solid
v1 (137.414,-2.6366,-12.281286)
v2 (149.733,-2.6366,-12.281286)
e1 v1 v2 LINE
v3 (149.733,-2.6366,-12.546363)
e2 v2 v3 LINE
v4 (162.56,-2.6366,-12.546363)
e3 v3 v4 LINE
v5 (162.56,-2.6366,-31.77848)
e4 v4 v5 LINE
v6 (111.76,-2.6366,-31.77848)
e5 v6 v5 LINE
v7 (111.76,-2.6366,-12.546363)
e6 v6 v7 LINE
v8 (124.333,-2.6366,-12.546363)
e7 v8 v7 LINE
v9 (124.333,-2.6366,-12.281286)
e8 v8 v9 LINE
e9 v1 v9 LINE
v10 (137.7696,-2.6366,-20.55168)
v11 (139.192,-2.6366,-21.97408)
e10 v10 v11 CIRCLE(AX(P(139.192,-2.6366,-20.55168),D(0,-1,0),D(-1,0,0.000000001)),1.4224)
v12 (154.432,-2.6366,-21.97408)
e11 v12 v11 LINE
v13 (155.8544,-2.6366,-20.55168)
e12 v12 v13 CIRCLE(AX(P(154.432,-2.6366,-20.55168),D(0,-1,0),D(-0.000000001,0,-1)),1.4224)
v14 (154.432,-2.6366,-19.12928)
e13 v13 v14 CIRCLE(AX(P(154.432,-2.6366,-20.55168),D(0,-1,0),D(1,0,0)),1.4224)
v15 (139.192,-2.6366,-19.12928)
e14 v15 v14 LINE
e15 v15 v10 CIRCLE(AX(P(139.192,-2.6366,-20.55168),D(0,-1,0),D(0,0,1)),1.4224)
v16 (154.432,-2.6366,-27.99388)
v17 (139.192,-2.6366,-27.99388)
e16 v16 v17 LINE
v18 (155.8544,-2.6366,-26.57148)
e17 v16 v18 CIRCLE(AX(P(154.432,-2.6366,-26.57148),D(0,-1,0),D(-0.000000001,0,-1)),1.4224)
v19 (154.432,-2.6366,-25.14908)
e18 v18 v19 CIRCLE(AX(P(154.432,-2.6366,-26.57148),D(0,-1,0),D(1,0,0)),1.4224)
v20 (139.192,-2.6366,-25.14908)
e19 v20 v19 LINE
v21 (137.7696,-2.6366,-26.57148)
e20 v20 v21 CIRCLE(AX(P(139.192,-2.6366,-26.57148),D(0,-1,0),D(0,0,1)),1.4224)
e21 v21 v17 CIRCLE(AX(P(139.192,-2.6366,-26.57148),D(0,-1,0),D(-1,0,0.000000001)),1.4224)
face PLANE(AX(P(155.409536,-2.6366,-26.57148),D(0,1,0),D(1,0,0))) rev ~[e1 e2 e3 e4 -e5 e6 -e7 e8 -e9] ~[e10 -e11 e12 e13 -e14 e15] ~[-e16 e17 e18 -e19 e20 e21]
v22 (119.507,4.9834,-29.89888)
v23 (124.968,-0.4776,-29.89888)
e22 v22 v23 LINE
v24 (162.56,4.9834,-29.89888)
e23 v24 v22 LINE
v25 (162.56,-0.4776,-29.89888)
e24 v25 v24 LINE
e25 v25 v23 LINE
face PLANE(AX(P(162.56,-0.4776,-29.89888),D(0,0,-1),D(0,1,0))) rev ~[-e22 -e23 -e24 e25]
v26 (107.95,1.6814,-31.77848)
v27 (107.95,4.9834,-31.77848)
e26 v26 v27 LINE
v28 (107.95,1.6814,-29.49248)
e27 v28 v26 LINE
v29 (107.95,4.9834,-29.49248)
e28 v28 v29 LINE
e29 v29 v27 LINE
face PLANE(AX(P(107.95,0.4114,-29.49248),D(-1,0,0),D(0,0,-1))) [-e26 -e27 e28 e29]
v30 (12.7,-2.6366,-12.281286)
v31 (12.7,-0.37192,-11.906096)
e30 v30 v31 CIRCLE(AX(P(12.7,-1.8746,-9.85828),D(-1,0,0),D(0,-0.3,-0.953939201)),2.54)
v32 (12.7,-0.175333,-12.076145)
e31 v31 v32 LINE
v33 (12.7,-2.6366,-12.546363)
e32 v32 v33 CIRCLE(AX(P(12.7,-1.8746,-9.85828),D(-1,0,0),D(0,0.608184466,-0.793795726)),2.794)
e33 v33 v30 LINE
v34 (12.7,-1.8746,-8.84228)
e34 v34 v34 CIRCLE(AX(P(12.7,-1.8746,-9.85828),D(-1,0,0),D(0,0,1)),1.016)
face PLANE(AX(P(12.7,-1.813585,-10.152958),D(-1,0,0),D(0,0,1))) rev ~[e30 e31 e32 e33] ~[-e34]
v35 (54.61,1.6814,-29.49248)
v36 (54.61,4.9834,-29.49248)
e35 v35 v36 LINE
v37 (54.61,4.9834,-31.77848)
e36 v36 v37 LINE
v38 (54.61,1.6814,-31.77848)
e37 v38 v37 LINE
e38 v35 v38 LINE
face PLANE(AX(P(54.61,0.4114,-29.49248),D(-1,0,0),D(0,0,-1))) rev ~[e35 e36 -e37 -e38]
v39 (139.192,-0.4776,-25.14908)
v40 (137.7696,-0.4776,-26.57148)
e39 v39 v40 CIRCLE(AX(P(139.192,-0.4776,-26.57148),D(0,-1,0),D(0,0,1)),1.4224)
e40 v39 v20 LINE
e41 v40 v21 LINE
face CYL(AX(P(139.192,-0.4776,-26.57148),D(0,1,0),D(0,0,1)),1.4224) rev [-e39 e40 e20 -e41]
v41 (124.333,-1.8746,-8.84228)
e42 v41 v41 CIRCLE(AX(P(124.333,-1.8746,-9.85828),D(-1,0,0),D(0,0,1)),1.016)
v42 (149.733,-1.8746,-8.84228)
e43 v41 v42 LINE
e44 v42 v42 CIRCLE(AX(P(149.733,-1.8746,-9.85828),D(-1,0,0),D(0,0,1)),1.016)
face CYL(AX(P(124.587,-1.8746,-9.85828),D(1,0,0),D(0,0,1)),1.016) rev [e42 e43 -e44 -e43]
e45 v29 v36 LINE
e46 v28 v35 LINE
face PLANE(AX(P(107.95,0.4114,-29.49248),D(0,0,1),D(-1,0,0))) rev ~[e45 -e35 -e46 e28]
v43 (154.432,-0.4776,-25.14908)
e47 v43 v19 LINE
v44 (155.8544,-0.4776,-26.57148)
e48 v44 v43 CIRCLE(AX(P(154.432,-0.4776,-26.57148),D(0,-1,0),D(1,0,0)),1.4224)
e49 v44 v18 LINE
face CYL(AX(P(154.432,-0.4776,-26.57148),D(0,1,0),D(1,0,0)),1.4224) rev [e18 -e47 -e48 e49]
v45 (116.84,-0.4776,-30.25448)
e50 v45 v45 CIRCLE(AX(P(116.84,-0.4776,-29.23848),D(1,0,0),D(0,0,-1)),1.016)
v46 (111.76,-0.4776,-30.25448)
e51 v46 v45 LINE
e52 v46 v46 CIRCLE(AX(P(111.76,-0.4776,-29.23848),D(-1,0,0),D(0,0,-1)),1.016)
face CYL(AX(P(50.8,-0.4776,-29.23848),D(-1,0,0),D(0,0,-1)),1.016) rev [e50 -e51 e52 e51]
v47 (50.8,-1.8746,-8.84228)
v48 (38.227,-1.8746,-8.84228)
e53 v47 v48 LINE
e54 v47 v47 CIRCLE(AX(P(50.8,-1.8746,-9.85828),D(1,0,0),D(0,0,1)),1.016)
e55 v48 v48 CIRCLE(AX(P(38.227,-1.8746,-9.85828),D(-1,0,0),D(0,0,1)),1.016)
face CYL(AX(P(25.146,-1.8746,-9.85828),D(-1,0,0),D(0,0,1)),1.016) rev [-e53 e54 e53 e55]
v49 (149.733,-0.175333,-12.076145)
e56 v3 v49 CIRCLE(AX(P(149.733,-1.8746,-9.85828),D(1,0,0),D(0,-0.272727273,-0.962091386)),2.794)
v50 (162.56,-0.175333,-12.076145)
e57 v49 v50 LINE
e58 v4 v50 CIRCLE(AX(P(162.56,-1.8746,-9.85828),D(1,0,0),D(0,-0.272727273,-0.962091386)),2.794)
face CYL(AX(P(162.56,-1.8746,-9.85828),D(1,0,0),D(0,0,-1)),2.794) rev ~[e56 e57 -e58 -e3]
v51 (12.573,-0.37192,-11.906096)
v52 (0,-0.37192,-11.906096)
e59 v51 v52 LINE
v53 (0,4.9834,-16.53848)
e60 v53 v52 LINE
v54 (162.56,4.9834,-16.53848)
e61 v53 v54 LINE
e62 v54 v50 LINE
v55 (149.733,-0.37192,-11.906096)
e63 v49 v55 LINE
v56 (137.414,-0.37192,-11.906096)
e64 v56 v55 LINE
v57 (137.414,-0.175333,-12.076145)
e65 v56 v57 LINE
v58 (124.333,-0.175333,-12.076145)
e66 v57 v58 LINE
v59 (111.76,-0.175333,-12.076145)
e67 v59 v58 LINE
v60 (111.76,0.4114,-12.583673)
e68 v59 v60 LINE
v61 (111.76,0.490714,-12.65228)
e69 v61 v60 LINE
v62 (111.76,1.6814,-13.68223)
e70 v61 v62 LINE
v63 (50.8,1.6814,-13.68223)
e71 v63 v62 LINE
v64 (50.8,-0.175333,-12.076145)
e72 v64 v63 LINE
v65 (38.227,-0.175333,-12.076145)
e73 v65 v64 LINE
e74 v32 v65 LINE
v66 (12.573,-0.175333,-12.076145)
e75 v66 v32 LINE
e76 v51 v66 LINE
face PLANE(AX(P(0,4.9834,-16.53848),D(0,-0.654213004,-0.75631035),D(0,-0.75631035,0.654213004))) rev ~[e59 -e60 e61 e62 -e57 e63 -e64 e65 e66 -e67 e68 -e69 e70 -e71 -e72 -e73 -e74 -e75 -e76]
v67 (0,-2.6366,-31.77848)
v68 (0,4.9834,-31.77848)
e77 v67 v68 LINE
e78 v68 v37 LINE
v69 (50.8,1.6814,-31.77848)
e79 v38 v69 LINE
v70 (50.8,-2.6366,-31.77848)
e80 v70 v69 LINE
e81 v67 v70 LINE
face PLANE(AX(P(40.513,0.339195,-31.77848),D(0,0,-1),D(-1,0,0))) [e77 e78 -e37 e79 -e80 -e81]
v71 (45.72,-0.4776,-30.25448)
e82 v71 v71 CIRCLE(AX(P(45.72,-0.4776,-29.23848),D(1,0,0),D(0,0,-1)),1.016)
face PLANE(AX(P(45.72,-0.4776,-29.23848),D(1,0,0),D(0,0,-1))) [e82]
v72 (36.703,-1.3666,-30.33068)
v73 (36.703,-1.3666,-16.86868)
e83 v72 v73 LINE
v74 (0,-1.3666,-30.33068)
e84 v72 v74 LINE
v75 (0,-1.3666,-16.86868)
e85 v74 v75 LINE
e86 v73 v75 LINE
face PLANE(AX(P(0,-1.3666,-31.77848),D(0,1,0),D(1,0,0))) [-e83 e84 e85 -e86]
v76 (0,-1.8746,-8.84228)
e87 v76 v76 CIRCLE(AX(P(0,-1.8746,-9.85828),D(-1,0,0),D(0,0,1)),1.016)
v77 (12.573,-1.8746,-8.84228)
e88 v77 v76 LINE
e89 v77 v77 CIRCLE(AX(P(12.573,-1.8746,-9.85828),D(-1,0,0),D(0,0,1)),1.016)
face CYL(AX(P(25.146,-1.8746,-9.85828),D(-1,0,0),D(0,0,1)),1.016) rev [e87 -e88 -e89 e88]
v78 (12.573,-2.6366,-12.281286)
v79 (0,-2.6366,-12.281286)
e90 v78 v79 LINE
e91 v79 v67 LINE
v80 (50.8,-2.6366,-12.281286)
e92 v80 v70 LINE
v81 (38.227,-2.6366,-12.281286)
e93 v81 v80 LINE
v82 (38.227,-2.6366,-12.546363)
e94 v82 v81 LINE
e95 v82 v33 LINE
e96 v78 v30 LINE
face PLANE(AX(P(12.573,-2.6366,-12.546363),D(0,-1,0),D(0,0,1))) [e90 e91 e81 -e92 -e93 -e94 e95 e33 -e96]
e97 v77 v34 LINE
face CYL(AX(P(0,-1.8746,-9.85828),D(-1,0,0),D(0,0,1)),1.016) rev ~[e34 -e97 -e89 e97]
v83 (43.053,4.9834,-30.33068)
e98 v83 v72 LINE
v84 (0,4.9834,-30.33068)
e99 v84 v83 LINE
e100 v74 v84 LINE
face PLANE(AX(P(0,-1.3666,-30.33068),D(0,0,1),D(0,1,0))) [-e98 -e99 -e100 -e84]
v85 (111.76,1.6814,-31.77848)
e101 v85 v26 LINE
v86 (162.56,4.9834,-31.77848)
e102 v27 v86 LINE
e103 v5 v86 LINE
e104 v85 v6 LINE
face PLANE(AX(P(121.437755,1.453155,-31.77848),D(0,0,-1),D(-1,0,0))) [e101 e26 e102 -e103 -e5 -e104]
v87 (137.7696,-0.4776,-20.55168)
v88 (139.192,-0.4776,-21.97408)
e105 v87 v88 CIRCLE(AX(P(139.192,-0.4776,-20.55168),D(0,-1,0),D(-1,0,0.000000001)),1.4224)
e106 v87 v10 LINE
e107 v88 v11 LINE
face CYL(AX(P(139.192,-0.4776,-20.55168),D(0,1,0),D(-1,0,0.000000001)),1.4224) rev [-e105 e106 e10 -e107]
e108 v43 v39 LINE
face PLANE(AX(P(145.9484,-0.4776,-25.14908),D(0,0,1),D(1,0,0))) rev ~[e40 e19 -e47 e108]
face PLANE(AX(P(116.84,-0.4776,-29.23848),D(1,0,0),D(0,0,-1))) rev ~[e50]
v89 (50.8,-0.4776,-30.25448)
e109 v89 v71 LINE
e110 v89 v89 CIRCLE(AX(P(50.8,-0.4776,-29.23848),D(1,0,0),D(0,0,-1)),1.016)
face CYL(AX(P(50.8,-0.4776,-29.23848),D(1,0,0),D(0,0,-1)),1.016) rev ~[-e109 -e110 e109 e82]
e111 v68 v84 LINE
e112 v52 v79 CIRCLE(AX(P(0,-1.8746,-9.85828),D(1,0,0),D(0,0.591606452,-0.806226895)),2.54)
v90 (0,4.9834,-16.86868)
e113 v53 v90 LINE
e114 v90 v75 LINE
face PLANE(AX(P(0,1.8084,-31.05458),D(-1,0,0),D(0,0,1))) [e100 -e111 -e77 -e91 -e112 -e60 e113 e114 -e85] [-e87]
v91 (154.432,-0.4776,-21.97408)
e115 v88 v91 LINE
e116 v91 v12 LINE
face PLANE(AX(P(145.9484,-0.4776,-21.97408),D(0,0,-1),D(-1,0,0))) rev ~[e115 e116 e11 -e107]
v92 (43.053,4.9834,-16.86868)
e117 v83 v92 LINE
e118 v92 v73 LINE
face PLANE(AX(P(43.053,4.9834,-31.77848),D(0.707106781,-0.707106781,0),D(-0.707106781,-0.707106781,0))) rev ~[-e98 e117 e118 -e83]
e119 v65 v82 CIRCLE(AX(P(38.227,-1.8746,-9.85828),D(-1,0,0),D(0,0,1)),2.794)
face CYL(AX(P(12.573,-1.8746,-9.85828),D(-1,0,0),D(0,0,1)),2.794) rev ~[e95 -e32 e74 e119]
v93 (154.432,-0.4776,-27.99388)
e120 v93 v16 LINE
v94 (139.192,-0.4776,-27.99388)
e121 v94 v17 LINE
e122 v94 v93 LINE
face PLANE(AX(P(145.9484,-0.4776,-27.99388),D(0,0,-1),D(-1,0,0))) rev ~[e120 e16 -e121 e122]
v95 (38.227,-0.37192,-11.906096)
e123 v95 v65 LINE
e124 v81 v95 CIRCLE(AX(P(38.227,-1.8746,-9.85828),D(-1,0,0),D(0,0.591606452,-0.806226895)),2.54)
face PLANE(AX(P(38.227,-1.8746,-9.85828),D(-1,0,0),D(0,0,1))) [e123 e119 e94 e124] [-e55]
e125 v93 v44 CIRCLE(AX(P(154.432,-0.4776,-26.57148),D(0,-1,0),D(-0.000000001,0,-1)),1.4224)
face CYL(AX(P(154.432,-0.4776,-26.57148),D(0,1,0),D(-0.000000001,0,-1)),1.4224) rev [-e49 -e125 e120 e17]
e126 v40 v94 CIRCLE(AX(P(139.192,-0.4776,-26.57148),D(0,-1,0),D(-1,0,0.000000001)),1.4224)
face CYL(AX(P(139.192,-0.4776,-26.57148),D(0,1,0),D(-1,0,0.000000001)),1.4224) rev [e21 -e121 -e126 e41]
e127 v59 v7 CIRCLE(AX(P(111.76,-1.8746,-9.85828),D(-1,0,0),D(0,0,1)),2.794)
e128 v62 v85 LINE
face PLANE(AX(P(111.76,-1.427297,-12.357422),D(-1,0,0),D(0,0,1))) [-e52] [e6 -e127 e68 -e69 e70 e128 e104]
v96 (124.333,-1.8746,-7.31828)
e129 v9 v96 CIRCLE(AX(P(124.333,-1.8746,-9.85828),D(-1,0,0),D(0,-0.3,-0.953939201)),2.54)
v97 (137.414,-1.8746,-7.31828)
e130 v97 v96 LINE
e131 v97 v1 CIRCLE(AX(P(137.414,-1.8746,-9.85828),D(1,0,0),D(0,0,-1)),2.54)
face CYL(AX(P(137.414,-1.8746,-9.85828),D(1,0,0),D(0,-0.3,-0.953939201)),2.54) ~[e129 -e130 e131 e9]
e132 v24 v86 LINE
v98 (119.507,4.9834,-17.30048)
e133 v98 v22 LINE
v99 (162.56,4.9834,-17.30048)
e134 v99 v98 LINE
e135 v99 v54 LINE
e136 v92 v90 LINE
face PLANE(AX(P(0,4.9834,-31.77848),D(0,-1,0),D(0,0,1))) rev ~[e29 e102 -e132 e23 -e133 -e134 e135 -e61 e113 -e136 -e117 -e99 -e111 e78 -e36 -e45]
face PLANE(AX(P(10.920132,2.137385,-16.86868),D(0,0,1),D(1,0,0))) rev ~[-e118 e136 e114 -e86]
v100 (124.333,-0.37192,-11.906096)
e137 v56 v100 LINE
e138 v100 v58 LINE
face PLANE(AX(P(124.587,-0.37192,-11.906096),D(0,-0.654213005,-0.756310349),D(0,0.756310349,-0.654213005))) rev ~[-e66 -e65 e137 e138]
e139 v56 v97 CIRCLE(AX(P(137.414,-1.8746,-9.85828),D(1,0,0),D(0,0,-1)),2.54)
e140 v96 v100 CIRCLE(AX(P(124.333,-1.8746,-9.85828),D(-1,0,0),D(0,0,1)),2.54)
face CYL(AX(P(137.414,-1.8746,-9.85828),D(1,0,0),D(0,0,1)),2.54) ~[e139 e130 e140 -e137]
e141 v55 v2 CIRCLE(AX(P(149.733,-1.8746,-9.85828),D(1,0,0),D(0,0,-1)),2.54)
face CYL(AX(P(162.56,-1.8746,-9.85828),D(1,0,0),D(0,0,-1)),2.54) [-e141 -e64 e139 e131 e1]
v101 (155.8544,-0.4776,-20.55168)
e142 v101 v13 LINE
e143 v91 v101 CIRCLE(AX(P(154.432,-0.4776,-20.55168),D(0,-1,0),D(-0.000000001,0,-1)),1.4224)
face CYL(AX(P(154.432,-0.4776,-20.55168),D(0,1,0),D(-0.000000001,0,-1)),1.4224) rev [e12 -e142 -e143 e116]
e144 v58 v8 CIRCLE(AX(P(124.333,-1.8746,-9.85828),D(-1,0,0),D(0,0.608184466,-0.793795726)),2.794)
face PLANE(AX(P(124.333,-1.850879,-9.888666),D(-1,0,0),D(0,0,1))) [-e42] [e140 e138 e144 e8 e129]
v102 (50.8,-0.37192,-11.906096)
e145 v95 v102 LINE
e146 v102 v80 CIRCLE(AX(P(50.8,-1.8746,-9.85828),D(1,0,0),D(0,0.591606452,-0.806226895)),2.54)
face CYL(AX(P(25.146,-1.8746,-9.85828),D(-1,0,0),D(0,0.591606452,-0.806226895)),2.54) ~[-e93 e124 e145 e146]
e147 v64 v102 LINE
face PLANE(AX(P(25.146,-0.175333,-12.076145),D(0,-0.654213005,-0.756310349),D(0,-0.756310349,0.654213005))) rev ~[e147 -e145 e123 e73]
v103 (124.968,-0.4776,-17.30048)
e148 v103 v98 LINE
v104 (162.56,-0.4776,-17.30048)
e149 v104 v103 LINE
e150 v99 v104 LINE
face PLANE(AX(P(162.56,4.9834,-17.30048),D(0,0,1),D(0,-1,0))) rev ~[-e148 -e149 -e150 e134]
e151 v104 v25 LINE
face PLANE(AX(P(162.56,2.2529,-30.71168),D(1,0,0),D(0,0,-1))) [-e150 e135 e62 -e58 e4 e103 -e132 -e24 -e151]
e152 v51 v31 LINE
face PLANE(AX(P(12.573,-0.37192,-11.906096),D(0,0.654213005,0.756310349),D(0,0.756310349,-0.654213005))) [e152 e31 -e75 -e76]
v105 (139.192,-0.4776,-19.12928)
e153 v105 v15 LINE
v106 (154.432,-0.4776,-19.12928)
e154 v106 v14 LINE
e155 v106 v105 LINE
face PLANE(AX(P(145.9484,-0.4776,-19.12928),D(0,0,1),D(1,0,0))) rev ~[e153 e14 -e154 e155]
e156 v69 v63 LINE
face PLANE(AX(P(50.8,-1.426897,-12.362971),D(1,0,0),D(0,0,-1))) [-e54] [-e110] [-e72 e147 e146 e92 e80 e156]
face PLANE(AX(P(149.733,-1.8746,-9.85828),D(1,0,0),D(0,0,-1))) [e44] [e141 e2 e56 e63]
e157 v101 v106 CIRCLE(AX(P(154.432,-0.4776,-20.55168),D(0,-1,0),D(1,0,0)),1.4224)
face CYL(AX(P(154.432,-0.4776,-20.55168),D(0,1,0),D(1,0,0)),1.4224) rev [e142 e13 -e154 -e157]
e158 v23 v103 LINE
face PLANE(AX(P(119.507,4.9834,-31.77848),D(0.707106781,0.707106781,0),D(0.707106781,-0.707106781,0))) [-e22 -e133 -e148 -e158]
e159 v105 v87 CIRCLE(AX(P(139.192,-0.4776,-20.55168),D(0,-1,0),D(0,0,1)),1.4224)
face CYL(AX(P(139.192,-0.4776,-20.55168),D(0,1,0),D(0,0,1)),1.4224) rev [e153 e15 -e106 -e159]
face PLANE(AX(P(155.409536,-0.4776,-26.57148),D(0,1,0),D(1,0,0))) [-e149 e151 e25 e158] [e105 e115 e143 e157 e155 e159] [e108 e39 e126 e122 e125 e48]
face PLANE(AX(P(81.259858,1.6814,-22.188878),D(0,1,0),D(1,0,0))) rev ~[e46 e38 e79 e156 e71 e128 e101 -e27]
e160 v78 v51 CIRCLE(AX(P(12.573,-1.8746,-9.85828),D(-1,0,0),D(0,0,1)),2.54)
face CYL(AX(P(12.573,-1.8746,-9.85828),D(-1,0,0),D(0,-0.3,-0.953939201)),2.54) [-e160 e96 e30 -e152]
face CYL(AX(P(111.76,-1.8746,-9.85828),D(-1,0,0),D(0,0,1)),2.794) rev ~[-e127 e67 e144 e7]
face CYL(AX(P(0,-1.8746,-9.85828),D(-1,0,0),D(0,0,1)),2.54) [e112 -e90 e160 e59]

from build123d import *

# Parameters (mm, degrees)
SKETCH1_R                = 1.6002
SKETCH1_R_2              = 0.8128
BOSS_EXTRUDE5_DEPTH      = 162.56
CUT_EXTRUDE1_DEPTH       = 14.351
SKETCH3_W                = 0.889
SKETCH3_H                = 5.842
BOSS_EXTRUDE6_DEPTH      = 36.957
SKETCH16_W               = 13.462
SKETCH16_H               = 6.460130881
BOSS_EXTRUDE7_DEPTH      = 33.02
CUT_EXTRUDE4_DEPTH       = 15.24
SKETCH18_W               = 1.778
SKETCH18_H               = 5.842
BOSS_EXTRUDE8_DEPTH      = 38.1
CUT_EXTRUDE5_DEPTH       = 14.224
SKETCH20_W               = 2.1336
SKETCH20_H               = 5.461
BOSS_EXTRUDE9_DEPTH      = 36.322
SKETCH22_R               = 1.4224
CUT_EXTRUDE7_DEPTH       = 20.32
CUT_EXTRUDE7_DEPTH_BACK  = 24.13
SKETCH25_W               = 112.268
SKETCH25_H               = 3.007323321
CUT_EXTRUDE8_DEPTH       = 24.13
SKETCH27_R               = 1.778
CUT_EXTRUDE9_DEPTH       = 112.268
CUT_EXTRUDE12_DEPTH      = 14.224
SKETCH34_W               = 43.053
SKETCH34_H               = 2.1336
BOSS_EXTRUDE14_DEPTH     = 7.112
SKETCH35_R               = 1.4224
CUT_EXTRUDE13_DEPTH      = 7.112
SKETCH37_W               = 60.96
SKETCH37_H               = 15.24
CUT_EXTRUDE14_DEPTH      = 3.048
SKETCH38_R               = 0.8128
CUT_EXTRUDE15_DEPTH      = 5.08
SKETCH39_R               = 0.8128
CUT_EXTRUDE16_DEPTH      = 5.08
SKETCH40_W               = 60.96
SKETCH40_H               = 2.54
CUT_EXTRUDE17_DEPTH      = 3.048
SKETCH41_R               = 1.161307013
BOSS_EXTRUDE15_DEPTH     = 6.604
SKETCH42_R               = 1.020818471
BOSS_EXTRUDE16_DEPTH     = 5.588
SKETCH43_R               = 0.8128
CUT_EXTRUDE18_DEPTH      = 5.08
SKETCH44_R               = 0.8128
CUT_EXTRUDE19_DEPTH      = 5.08
SKETCH46_W               = 60.96
SKETCH46_H               = 9.087986699
CUT_EXTRUDE21_DEPTH      = 3.048
SKETCH47_W               = 53.34
SKETCH47_H               = 2.286
CUT_EXTRUDE22_DEPTH      = 15.24
SKETCH48_R               = 2.54
BOSS_EXTRUDE17_DEPTH     = 25.146
SKETCH49_R               = 2.54
BOSS_EXTRUDE18_DEPTH     = 25.146
SKETCH50_R               = 2.794
CUT_EXTRUDE23_DEPTH      = 112.268
SKETCH51_R               = 1.27
CUT_EXTRUDE24_DEPTH      = 174.498
CUT_EXTRUDE25_DEPTH      = 1.27
SKETCH55_W               = 46.703523857
SKETCH55_H               = 5.873481267
CUT_EXTRUDE26_DEPTH      = 9.144
CUT_EXTRUDE26_DEPTH_BACK = 8.636
SKETCH57_R               = 1.029255476
BOSS_EXTRUDE20_DEPTH     = 5.08
SKETCH58_R               = 1.09273592
BOSS_EXTRUDE21_DEPTH     = 7.112
SKETCH59_R               = 1.016
CUT_EXTRUDE27_DEPTH      = 66.04
CUT_EXTRUDE27_DEPTH_BACK = 5.08
SKETCH60_R               = 1.869467668
SKETCH60_R_2             = 1.016
BOSS_EXTRUDE22_DEPTH     = 162.56
SKETCH61_R               = 2.219373527
CUT_EXTRUDE28_DEPTH      = 112.268
SKETCH62_R               = 1.016
BOSS_EXTRUDE26_DEPTH     = 25.654
SKETCH65_R               = 1.016
BOSS_EXTRUDE27_DEPTH     = 25.654
SKETCH67_R               = 2.794
CUT_EXTRUDE32_DEPTH      = 12.827
SKETCH68_R               = 2.794
CUT_EXTRUDE33_DEPTH      = 12.827
SKETCH72_R               = 2.794
CUT_EXTRUDE34_DEPTH      = 25.654
BOSS_EXTRUDE28_DEPTH     = 0.127
SKETCH77_R               = 1.016
BOSS_EXTRUDE29_DEPTH     = 0.254
SKETCH79_R               = 1.016
CUT_EXTRUDE35_DEPTH      = 15.748
SKETCH87_W               = 23.622
SKETCH87_H               = 13.462
BOSS_EXTRUDE30_DEPTH     = 6.096
CUT_EXTRUDE36_DEPTH      = 14.9098
SKETCH89_W               = 1.4478
SKETCH89_H               = 6.35
BOSS_EXTRUDE31_DEPTH     = 30.6578
BOSS_EXTRUDE32_DEPTH     = 2.159
BOSS_EXTRUDE33_DEPTH     = 2.159
CUT_EXTRUDE38_DEPTH      = 43.053
BOSS_EXTRUDE35_DEPTH     = 14.859
SKETCH98_W               = 13.462
SKETCH98_H               = 6.35
CUT_EXTRUDE41_DEPTH      = 19.431
BOSS_EXTRUDE36_DEPTH     = 15.113
SKETCH102_W              = 13.462
SKETCH102_H              = 6.35
CUT_EXTRUDE42_DEPTH      = 27.051
BOSS_EXTRUDE39_DEPTH     = 2.159
BOSS_EXTRUDE40_DEPTH     = 14.986
BOSS_EXTRUDE41_DEPTH     = 2.159


with BuildPart() as part:
    # Sketch1 → Boss-Extrude5 (new body)
    with BuildSketch(Plane(origin=(0, 0, 0), x_dir=(0, 0, -1), z_dir=(1, 0, 0))):
        with BuildLine():
            ThreePointArc((11.4584801, -1.874600251), (11.409460099, -2.267640517), (11.265403421, -2.636600251))
            Line((11.265403421, -2.636600251), (11.4584801, -2.636600251))
            Line((11.4584801, -2.636600251), (31.7784801, -2.636600251))
            Line((31.7784801, -2.636600251), (31.7784801, 4.983399749))
            Line((31.7784801, 4.983399749), (16.5384801, 4.983399749))
            Line((16.5384801, 4.983399749), (11.265403421, -1.112600251))
            ThreePointArc((11.265403421, -1.112600251), (11.409460099, -1.481559985), (11.4584801, -1.874600251))
        make_face()
        with Locations((9.8582801, -1.874600251)):
            Circle(SKETCH1_R)
        with Locations((9.8582801, -1.874600251)):
            Circle(SKETCH1_R_2, mode=Mode.SUBTRACT)
    extrude(amount=BOSS_EXTRUDE5_DEPTH)

    # Sketch2 → Cut-Extrude1 (cut)
    with BuildSketch(Plane(origin=(0, 0, -31.7784801), x_dir=(-1, 0, 0), z_dir=(0, 0, -1))):
        Polygon((0, 4.983399749), (0, -0.858600251), (-17.78, -0.858600251), (-23.622, 4.983399749), align=None)
    extrude(amount=-CUT_EXTRUDE1_DEPTH, mode=Mode.SUBTRACT)

    # Sketch3 → Boss-Extrude6 (add)
    with BuildSketch(Plane.ZY):
        with Locations((-31.3339801, 2.062399749)):
            Rectangle(SKETCH3_W, SKETCH3_H)
    extrude(amount=-BOSS_EXTRUDE6_DEPTH)

    # Sketch16 → Boss-Extrude7 (add)
    with BuildSketch(Plane.ZY):
        with Locations((-24.1584801, 1.753334308)):
            Rectangle(SKETCH16_W, SKETCH16_H)
    extrude(amount=-BOSS_EXTRUDE7_DEPTH)

    # Sketch17 → Cut-Extrude4 (cut)
    with BuildSketch(Plane(origin=(0, 0, -31.7784801), x_dir=(-1, 0, 0), z_dir=(0, 0, -1))):
        Polygon((0, 4.983399749), (0, -0.858600251), (-17.78, -0.858600251), (-23.622, 4.983399749), align=None)
    extrude(amount=-CUT_EXTRUDE4_DEPTH, mode=Mode.SUBTRACT)

    # Sketch18 → Boss-Extrude8 (add)
    with BuildSketch(Plane.ZY):
        with Locations((-30.8894801, 2.062399749)):
            Rectangle(SKETCH18_W, SKETCH18_H)
    extrude(amount=-BOSS_EXTRUDE8_DEPTH)

    # Sketch19 → Cut-Extrude5 (cut)
    with BuildSketch(Plane(origin=(0, 0, -31.7784801), x_dir=(-1, 0, 0), z_dir=(0, 0, -1))):
        Polygon((-162.56, 4.983399749), (-162.56, -0.477600251), (-142.24, -0.477600251), (-136.779, 4.983399749), align=None)
    extrude(amount=-CUT_EXTRUDE5_DEPTH, mode=Mode.SUBTRACT)

    # Sketch20 → Boss-Extrude9 (add)
    with BuildSketch(Plane(origin=(162.56, 0, 0), x_dir=(0, 0, -1), z_dir=(1, 0, 0))):
        with Locations((30.7116801, 2.252899749)):
            Rectangle(SKETCH20_W, SKETCH20_H)
    extrude(amount=-BOSS_EXTRUDE9_DEPTH)

    # Sketch22 → Cut-Extrude7 (cut, two sides)
    with BuildSketch(Plane(origin=(0, -0.477600251, 0), x_dir=(1, 0, 0), z_dir=(0, 1, 0))) as cut_extrude7_sk:
        with Locations((145.9484, 26.5714801)):
            Circle(SKETCH22_R)
        with BuildLine():
            ThreePointArc((147.3708, 26.5714801), (146.954188686, 25.565691415), (145.9484, 25.1490801))
            Line((145.9484, 25.1490801), (157.217057139, 25.1490801))
            ThreePointArc((157.217057139, 25.1490801), (155.794657139, 26.5714801), (157.217057139, 27.9938801))
            Line((157.217057139, 27.9938801), (145.9484, 27.9938801))
            ThreePointArc((145.9484, 27.9938801), (146.954188686, 27.577268786), (147.3708, 26.5714801))
        make_face()
        with Locations((157.217057139, 26.5714801)):
            Circle(SKETCH22_R)
        with BuildLine():
            ThreePointArc((157.217057139, 19.1292801), (155.794657139, 20.5516801), (157.217057139, 21.9740801))
            Line((157.217057139, 21.9740801), (145.9484, 21.9740801))
            ThreePointArc((145.9484, 21.9740801), (146.954188686, 21.557468786), (147.3708, 20.5516801))
            ThreePointArc((147.3708, 20.5516801), (146.954188686, 19.545891415), (145.9484, 19.1292801))
            Line((145.9484, 19.1292801), (157.217057139, 19.1292801))
        make_face()
        with Locations((157.217057139, 20.5516801)):
            Circle(SKETCH22_R)
        with Locations((145.9484, 20.5516801)):
            Circle(SKETCH22_R)
    extrude(amount=CUT_EXTRUDE7_DEPTH, mode=Mode.SUBTRACT)
    extrude(cut_extrude7_sk.sketch, amount=-CUT_EXTRUDE7_DEPTH_BACK, mode=Mode.SUBTRACT)

    # Sketch25 → Cut-Extrude8 (cut)
    with BuildSketch(Plane(origin=(0, 4.983399749, 0), x_dir=(1, 0, 0), z_dir=(0, 1, 0))):
        with Locations((81.28, 9.761741761)):
            Rectangle(SKETCH25_W, SKETCH25_H)
    extrude(amount=-CUT_EXTRUDE8_DEPTH, mode=Mode.SUBTRACT)

    # Sketch27 → Cut-Extrude9 (cut)
    with BuildSketch(Plane.ZY.offset(-137.414)):
        with Locations((-9.8582801, -1.874600251)):
            Circle(SKETCH27_R)
    extrude(amount=CUT_EXTRUDE9_DEPTH, mode=Mode.SUBTRACT)

    # Sketch31 → Cut-Extrude12 (cut)
    with BuildSketch(Plane(origin=(0, 0, -31.7784801), x_dir=(-1, 0, 0), z_dir=(0, 0, -1))):
        Polygon((-162.56, 4.983399749), (-162.56, -0.477600251), (-124.968, -0.477600251), (-119.507, 4.983399749), (-124.079, 4.983399749), align=None)
    extrude(amount=-CUT_EXTRUDE12_DEPTH, mode=Mode.SUBTRACT)

    # Sketch34 → Boss-Extrude14 (add)
    with BuildSketch(Plane(origin=(0, 4.983399749, 0), x_dir=(1, 0, 0), z_dir=(0, 1, 0))):
        with Locations((141.0335, 30.7116801)):
            Rectangle(SKETCH34_W, SKETCH34_H)
    extrude(amount=-BOSS_EXTRUDE14_DEPTH)

    # Sketch35 → Cut-Extrude13 (cut)
    with BuildSketch(Plane(origin=(0, -0.477600251, 0), x_dir=(1, 0, 0), z_dir=(0, 1, 0))):
        with BuildLine():
            Line((130.048, 25.1490801), (145.9484, 25.1490801))
            ThreePointArc((145.9484, 25.1490801), (144.526, 26.5714801), (145.9484, 27.9938801))
            Line((145.9484, 27.9938801), (130.048, 27.9938801))
            ThreePointArc((130.048, 27.9938801), (131.053788686, 27.577268786), (131.4704, 26.5714801))
            ThreePointArc((131.4704, 26.5714801), (131.053788686, 25.565691415), (130.048, 25.1490801))
        make_face()
        with BuildLine():
            ThreePointArc((145.9484, 19.1292801), (144.526, 20.5516801), (145.9484, 21.9740801))
            Line((145.9484, 21.9740801), (130.048, 21.9740801))
            ThreePointArc((130.048, 21.9740801), (131.053788686, 21.557468786), (131.4704, 20.5516801))
            ThreePointArc((131.4704, 20.5516801), (131.053788686, 19.545891415), (130.048, 19.1292801))
            Line((130.048, 19.1292801), (145.9484, 19.1292801))
        make_face()
        with Locations((130.048, 20.5516801)):
            Circle(SKETCH35_R)
        with Locations((130.048, 26.5714801)):
            Circle(SKETCH35_R)
    extrude(amount=-CUT_EXTRUDE13_DEPTH, mode=Mode.SUBTRACT)

    # Sketch37 → Cut-Extrude14 (cut)
    with BuildSketch(Plane(origin=(0, -2.636600251, 0), x_dir=(-1, 0, 0), z_dir=(0, -1, 0))):
        with Locations((-81.28, 21.6184801)):
            Rectangle(SKETCH37_W, SKETCH37_H)
    extrude(amount=-CUT_EXTRUDE14_DEPTH, mode=Mode.SUBTRACT)

    # Sketch38 → Cut-Extrude15 (cut)
    with BuildSketch(Plane.ZY.offset(-111.76)):
        with Locations((-27.9684801, -1.112600251)):
            Circle(SKETCH38_R)
    extrude(amount=-CUT_EXTRUDE15_DEPTH, mode=Mode.SUBTRACT)

    # Sketch39 → Cut-Extrude16 (cut)
    with BuildSketch(Plane(origin=(50.8, 0, 0), x_dir=(0, 0, -1), z_dir=(1, 0, 0))):
        with Locations(Location((27.9684801, -1.112600251, 0), (0, 0, 180))):
            Circle(SKETCH39_R)
    extrude(amount=-CUT_EXTRUDE16_DEPTH, mode=Mode.SUBTRACT)

    # Sketch40 → Cut-Extrude17 (cut)
    with BuildSketch(Plane(origin=(0, -2.636600251, 0), x_dir=(-1, 0, 0), z_dir=(0, -1, 0))):
        with Locations((-81.28, 30.5084801)):
            Rectangle(SKETCH40_W, SKETCH40_H)
    extrude(amount=-CUT_EXTRUDE17_DEPTH, mode=Mode.SUBTRACT)

    # Sketch41 → Boss-Extrude15 (add)
    with BuildSketch(Plane(origin=(50.8, 0, 0), x_dir=(0, 0, -1), z_dir=(1, 0, 0))):
        with Locations((27.9684801, -1.112600251)):
            Circle(SKETCH41_R)
    extrude(amount=-BOSS_EXTRUDE15_DEPTH)

    # Sketch42 → Boss-Extrude16 (add)
    with BuildSketch(Plane.ZY.offset(-111.76)):
        with Locations((-27.9684801, -1.112600251)):
            Circle(SKETCH42_R)
    extrude(amount=-BOSS_EXTRUDE16_DEPTH)

    # Sketch43 → Cut-Extrude18 (cut)
    with BuildSketch(Plane(origin=(50.8, 0, 0), x_dir=(0, 0, -1), z_dir=(1, 0, 0))):
        with Locations((30.5084801, -1.112600251)):
            Circle(SKETCH43_R)
    extrude(amount=-CUT_EXTRUDE18_DEPTH, mode=Mode.SUBTRACT)

    # Sketch44 → Cut-Extrude19 (cut)
    with BuildSketch(Plane.ZY.offset(-111.76)):
        with Locations(Location((-30.5084801, -1.112600251, 0), (0, 0, 180))):
            Circle(SKETCH44_R)
    extrude(amount=-CUT_EXTRUDE19_DEPTH, mode=Mode.SUBTRACT)

    # Sketch46 → Cut-Extrude21 (cut)
    with BuildSketch(Plane(origin=(0, -2.636600251, 0), x_dir=(-1, 0, 0), z_dir=(0, -1, 0))):
        with Locations((-81.28, 9.45448675)):
            Rectangle(SKETCH46_W, SKETCH46_H)
    extrude(amount=-CUT_EXTRUDE21_DEPTH, mode=Mode.SUBTRACT)

    # Sketch47 → Cut-Extrude22 (cut)
    with BuildSketch(Plane(origin=(0, 0.411399749, 0), x_dir=(-1, 0, 0), z_dir=(0, -1, 0))):
        with Locations((-81.28, 30.6354801)):
            Rectangle(SKETCH47_W, SKETCH47_H)
    extrude(amount=-CUT_EXTRUDE22_DEPTH, mode=Mode.SUBTRACT)

    # Sketch48 → Boss-Extrude17 (add)
    with BuildSketch(Plane.ZY):
        with Locations((-9.8582801, -1.874600251)):
            Circle(SKETCH48_R)
    extrude(amount=-BOSS_EXTRUDE17_DEPTH)

    # Sketch49 → Boss-Extrude18 (add)
    with BuildSketch(Plane(origin=(162.56, 0, 0), x_dir=(0, 0, -1), z_dir=(1, 0, 0))):
        with Locations((9.8582801, -1.874600251)):
            Circle(SKETCH49_R)
    extrude(amount=-BOSS_EXTRUDE18_DEPTH)

    # Sketch50 → Cut-Extrude23 (cut)
    with BuildSketch(Plane.ZY.offset(-137.414)):
        with Locations((-9.8582801, -1.874600251)):
            Circle(SKETCH50_R)
    extrude(amount=CUT_EXTRUDE23_DEPTH, mode=Mode.SUBTRACT)

    # Sketch51 → Cut-Extrude24 (cut)
    with BuildSketch(Plane(origin=(162.56, 0, 0), x_dir=(0, 0, -1), z_dir=(1, 0, 0))):
        with Locations((9.8582801, -1.874600251)):
            Circle(SKETCH51_R)
    extrude(amount=-CUT_EXTRUDE24_DEPTH, mode=Mode.SUBTRACT)

    # Sketch52 → Cut-Extrude25 (cut)
    with BuildSketch(Plane(origin=(0, 0.411399749, 0), x_dir=(-1, 0, 0), z_dir=(0, -1, 0))):
        Polygon((-50.8, 31.7784801), (-50.8, 12.546363432), (-111.76, 12.6522801), (-111.76, 31.7784801), align=None)
    extrude(amount=-CUT_EXTRUDE25_DEPTH, mode=Mode.SUBTRACT)

    # Sketch55 → Cut-Extrude26 (cut, two sides)
    with BuildSketch(Plane.XZ.offset(2.636600251)) as cut_extrude26_sk:
        with Locations((88.408238071, -10.745489599)):
            Rectangle(SKETCH55_W, SKETCH55_H)
    extrude(amount=CUT_EXTRUDE26_DEPTH, mode=Mode.SUBTRACT)
    extrude(cut_extrude26_sk.sketch, amount=-CUT_EXTRUDE26_DEPTH_BACK, mode=Mode.SUBTRACT)

    # Sketch57 → Boss-Extrude20 (add)
    with BuildSketch(Plane(origin=(45.72, 0, 0), x_dir=(0, 0, -1), z_dir=(1, 0, 0))):
        with Locations((30.5084801, -1.112600251)):
            Circle(SKETCH57_R)
    extrude(amount=BOSS_EXTRUDE20_DEPTH)

    # Sketch58 → Boss-Extrude21 (add)
    with BuildSketch(Plane.ZY.offset(-111.76)):
        with Locations((-30.5084801, -1.112600251)):
            Circle(SKETCH58_R)
    extrude(amount=-BOSS_EXTRUDE21_DEPTH)

    # Sketch59 → Cut-Extrude27 (cut, two sides)
    with BuildSketch(Plane(origin=(50.8, 0, 0), x_dir=(0, 0, -1), z_dir=(1, 0, 0))) as cut_extrude27_sk:
        with Locations((29.2384801, -0.477600251)):
            Circle(SKETCH59_R)
    extrude(amount=CUT_EXTRUDE27_DEPTH, mode=Mode.SUBTRACT)
    extrude(cut_extrude27_sk.sketch, amount=-CUT_EXTRUDE27_DEPTH_BACK, mode=Mode.SUBTRACT)

    # Sketch60 → Boss-Extrude22 (add)
    with BuildSketch(Plane.ZY):
        with Locations((-9.8582801, -1.874600251)):
            Circle(SKETCH60_R)
        with Locations((-9.8582801, -1.874600251)):
            Circle(SKETCH60_R_2, mode=Mode.SUBTRACT)
    extrude(amount=-BOSS_EXTRUDE22_DEPTH)

    # Sketch61 → Cut-Extrude28 (cut)
    with BuildSketch(Plane.ZY.offset(-137.414)):
        with Locations((-9.8582801, -1.874600251)):
            Circle(SKETCH61_R)
    extrude(amount=CUT_EXTRUDE28_DEPTH, mode=Mode.SUBTRACT)

    # Sketch62 → Boss-Extrude26 (add)
    with BuildSketch(Plane(origin=(25.146, 0, 0), x_dir=(0, 0, -1), z_dir=(1, 0, 0))):
        with BuildLine():
            Line((12.07614536, -0.175332853), (11.906096413, -0.371919863))
            ThreePointArc((11.906096413, -0.371919863), (12.272100043, -1.083984489), (12.3982801, -1.874600251))
            ThreePointArc((12.3982801, -1.874600251), (12.368861124, -2.260064807), (12.281285672, -2.636600251))
            Line((12.281285672, -2.636600251), (12.546363432, -2.636600251))
            ThreePointArc((12.546363432, -2.636600251), (12.602645637, -1.350297092), (12.07614536, -0.175332853))
        make_face()
        with BuildLine():
            ThreePointArc((12.3982801, -1.874600251), (12.272100043, -1.083984489), (11.906096413, -0.371919863))
            ThreePointArc((11.906096413, -0.371919863), (7.352435653, -2.289743123), (12.281285672, -2.636600251))
            ThreePointArc((12.281285672, -2.636600251), (12.368861124, -2.260064807), (12.3982801, -1.874600251))
        make_face()
        with Locations(Location((9.8582801, -1.874600251, 0), (0, 0, 180))):
            Circle(SKETCH62_R, mode=Mode.SUBTRACT)
    extrude(amount=BOSS_EXTRUDE26_DEPTH)

    # Sketch65 → Boss-Extrude27 (add)
    with BuildSketch(Plane.ZY.offset(-137.414)):
        with BuildLine():
            ThreePointArc((-12.281285672, -2.636600251), (-12.364124548, -1.459457379), (-11.906096413, -0.371919863))
            Line((-11.906096413, -0.371919863), (-12.07614536, -0.175332853))
            ThreePointArc((-12.07614536, -0.175332853), (-12.602645637, -1.350297092), (-12.546363432, -2.636600251))
            Line((-12.546363432, -2.636600251), (-12.281285672, -2.636600251))
        make_face()
        with BuildLine():
            ThreePointArc((-7.3182801, -1.874600251), (-9.067664339, 0.539219692), (-11.906096413, -0.371919863))
            ThreePointArc((-11.906096413, -0.371919863), (-12.364124548, -1.459457379), (-12.281285672, -2.636600251))
            ThreePointArc((-12.281285672, -2.636600251), (-9.472815544, -4.385181275), (-7.3182801, -1.874600251))
        make_face()
        with Locations((-9.8582801, -1.874600251)):
            Circle(SKETCH65_R, mode=Mode.SUBTRACT)
    extrude(amount=BOSS_EXTRUDE27_DEPTH)

    # Sketch67 → Cut-Extrude32 (cut)
    with BuildSketch(Plane(origin=(162.56, 0, 0), x_dir=(0, 0, -1), z_dir=(1, 0, 0))):
        with Locations((9.8582801, -1.874600251)):
            Circle(SKETCH67_R)
    extrude(amount=-CUT_EXTRUDE32_DEPTH, mode=Mode.SUBTRACT)

    # Sketch68 → Cut-Extrude33 (cut)
    with BuildSketch(Plane.ZY.offset(-111.76)):
        with Locations((-9.8582801, -1.874600251)):
            Circle(SKETCH68_R)
    extrude(amount=-CUT_EXTRUDE33_DEPTH, mode=Mode.SUBTRACT)

    # Sketch72 → Cut-Extrude34 (cut)
    with BuildSketch(Plane.ZY.offset(-12.573)):
        with Locations((-9.8582801, -1.874600251)):
            Circle(SKETCH72_R)
    extrude(amount=-CUT_EXTRUDE34_DEPTH, mode=Mode.SUBTRACT)

    # Sketch74 → Boss-Extrude28 (add)
    with BuildSketch(Plane.ZY.offset(-12.573)):
        with BuildLine():
            Line((-12.546363432, -2.636600251), (-12.281285672, -2.636600251))
            ThreePointArc((-12.281285672, -2.636600251), (-7.352435653, -2.289743123), (-11.906096413, -0.371919863))
            Line((-11.906096413, -0.371919863), (-12.07614536, -0.175332853))
            ThreePointArc((-12.07614536, -0.175332853), (-12.602645637, -1.350297092), (-12.546363432, -2.636600251))
        make_face()
    extrude(amount=-BOSS_EXTRUDE28_DEPTH)

    # Sketch77 → Boss-Extrude29 (add)
    with BuildSketch(Plane.ZY.offset(-124.587)):
        with BuildLine():
            ThreePointArc((-11.906096413, -0.371919863), (-12.364124548, -1.459457379), (-12.281285672, -2.636600251))
            ThreePointArc((-12.281285672, -2.636600251), (-9.472815544, -4.385181275), (-7.3182801, -1.874600251))
            ThreePointArc((-7.3182801, -1.874600251), (-9.067664339, 0.539219692), (-11.906096413, -0.371919863))
        make_face()
        with Locations((-9.8582801, -1.874600251)):
            Circle(SKETCH77_R, mode=Mode.SUBTRACT)
        with BuildLine():
            Line((-12.546363432, -2.636600251), (-12.281285672, -2.636600251))
            ThreePointArc((-12.281285672, -2.636600251), (-12.364124548, -1.459457379), (-11.906096413, -0.371919863))
            Line((-11.906096413, -0.371919863), (-12.07614536, -0.175332853))
            ThreePointArc((-12.07614536, -0.175332853), (-12.602645637, -1.350297092), (-12.546363432, -2.636600251))
        make_face()
    extrude(amount=BOSS_EXTRUDE29_DEPTH)

    # Sketch79 → Cut-Extrude35 (cut)
    with BuildSketch(Plane.ZY):
        with Locations((-9.8582801, -1.874600251)):
            Circle(SKETCH79_R)
    extrude(amount=-CUT_EXTRUDE35_DEPTH, mode=Mode.SUBTRACT)

    # Sketch87 → Boss-Extrude30 (add)
    with BuildSketch(Plane(origin=(0, 4.983399749, 0), x_dir=(1, 0, 0), z_dir=(0, 1, 0))):
        with Locations((11.811, 23.2694801)):
            Rectangle(SKETCH87_W, SKETCH87_H)
    extrude(amount=-BOSS_EXTRUDE30_DEPTH)

    # Sketch88 → Cut-Extrude36 (cut)
    with BuildSketch(Plane(origin=(0, 0, -31.7784801), x_dir=(-1, 0, 0), z_dir=(0, 0, -1))):
        Polygon((0, 4.983399749), (0, -1.366600251), (-17.78, -1.366600251), (-23.622, 4.983399749), align=None)
    extrude(amount=-CUT_EXTRUDE36_DEPTH, mode=Mode.SUBTRACT)

    # Sketch89 → Boss-Extrude31 (add)
    with BuildSketch(Plane.ZY):
        with Locations((-31.0545801, 1.808399749)):
            Rectangle(SKETCH89_W, SKETCH89_H)
    extrude(amount=-BOSS_EXTRUDE31_DEPTH)

    # Sketch90 → Boss-Extrude32 (add)
    with BuildSketch(Plane(origin=(0, -2.636600251, 0), x_dir=(-1, 0, 0), z_dir=(0, -1, 0))):
        with BuildLine():
            Line((-130.048, 27.9938801), (-137.16, 27.9938801))
            ThreePointArc((-137.16, 27.9938801), (-136.154211314, 27.577268786), (-135.7376, 26.5714801))
            ThreePointArc((-135.7376, 26.5714801), (-136.154211314, 25.565691415), (-137.16, 25.1490801))
            Line((-137.16, 25.1490801), (-130.048, 25.1490801))
            ThreePointArc((-130.048, 25.1490801), (-128.6256, 26.5714801), (-130.048, 27.9938801))
        make_face()
        with BuildLine():
            ThreePointArc((-135.7376, 20.5516801), (-136.154211314, 19.545891415), (-137.16, 19.1292801))
            Line((-137.16, 19.1292801), (-130.048, 19.1292801))
            ThreePointArc((-130.048, 19.1292801), (-128.6256, 20.5516801), (-130.048, 21.9740801))
            Line((-130.048, 21.9740801), (-137.16, 21.9740801))
            ThreePointArc((-137.16, 21.9740801), (-136.154211314, 21.557468786), (-135.7376, 20.5516801))
        make_face()
    extrude(amount=-BOSS_EXTRUDE32_DEPTH)

    # Sketch91 → Boss-Extrude33 (add)
    with BuildSketch(Plane(origin=(0, -2.636600251, 0), x_dir=(-1, 0, 0), z_dir=(0, -1, 0))):
        with BuildLine():
            Line((-156.251857139, 26.5714801), (-158.639457139, 26.5714801))
            ThreePointArc((-158.639457139, 26.5714801), (-158.222845825, 25.565691415), (-157.217057139, 25.1490801))
            Line((-157.217057139, 25.1490801), (-154.829457139, 25.1490801))
            ThreePointArc((-154.829457139, 25.1490801), (-155.835245825, 25.565691415), (-156.251857139, 26.5714801))
        make_face()
        with BuildLine():
            ThreePointArc((-157.217057139, 27.9938801), (-158.222845825, 27.577268786), (-158.639457139, 26.5714801))
            Line((-158.639457139, 26.5714801), (-156.251857139, 26.5714801))
            ThreePointArc((-156.251857139, 26.5714801), (-155.835245825, 27.577268786), (-154.829457139, 27.9938801))
            Line((-154.829457139, 27.9938801), (-157.217057139, 27.9938801))
        make_face()
        with BuildLine():
            ThreePointArc((-157.217057139, 21.9740801), (-158.222845825, 21.557468786), (-158.639457139, 20.5516801))
            Line((-158.639457139, 20.5516801), (-156.251857139, 20.5516801))
            ThreePointArc((-156.251857139, 20.5516801), (-155.835245825, 21.557468786), (-154.829457139, 21.9740801))
            Line((-154.829457139, 21.9740801), (-157.217057139, 21.9740801))
        make_face()
        with BuildLine():
            Line((-156.251857139, 20.5516801), (-158.639457139, 20.5516801))
            ThreePointArc((-158.639457139, 20.5516801), (-158.222845825, 19.545891415), (-157.217057139, 19.1292801))
            Line((-157.217057139, 19.1292801), (-154.829457139, 19.1292801))
            ThreePointArc((-154.829457139, 19.1292801), (-155.835245825, 19.545891415), (-156.251857139, 20.5516801))
        make_face()
    extrude(amount=-BOSS_EXTRUDE33_DEPTH)

    # Sketch92 → Cut-Extrude38 (cut)
    with BuildSketch(Plane(origin=(162.56, 0, 0), x_dir=(0, 0, -1), z_dir=(1, 0, 0))):
        Polygon((29.6448801, -0.477600251), (29.8988801, -0.477600251), (29.8988801, 4.983399749), (17.3004801, 4.983399749), (17.3004801, -0.477600251), align=None)
    extrude(amount=-CUT_EXTRUDE38_DEPTH, mode=Mode.SUBTRACT)

    # Sketch94 → Boss-Extrude35 (add)
    with BuildSketch(Plane(origin=(0, 0, -31.7784801), x_dir=(-1, 0, 0), z_dir=(0, 0, -1))):
        Polygon((-119.507, 4.983399749), (-124.968, -0.477600251), (-119.507, -0.477600251), align=None)
    extrude(amount=-BOSS_EXTRUDE35_DEPTH)

    # Sketch98 → Cut-Extrude41 (cut)
    with BuildSketch(Plane.ZY.offset(-23.622)):
        with Locations((-23.5996801, 1.808399749)):
            Rectangle(SKETCH98_W, SKETCH98_H)
    extrude(amount=-CUT_EXTRUDE41_DEPTH, mode=Mode.SUBTRACT)

    # Sketch101 → Boss-Extrude36 (add)
    with BuildSketch(Plane(origin=(0, 0, -31.7784801), x_dir=(-1, 0, 0), z_dir=(0, 0, -1))):
        Polygon((-43.053, 4.983399749), (-37.592, -0.477600251), (-43.053, -0.477600251), align=None)
    extrude(amount=-BOSS_EXTRUDE36_DEPTH)

    # Sketch102 → Cut-Extrude42 (cut)
    with BuildSketch(Plane.ZY):
        with Locations((-23.5996801, 1.808399749)):
            Rectangle(SKETCH102_W, SKETCH102_H)
    extrude(amount=-CUT_EXTRUDE42_DEPTH, mode=Mode.SUBTRACT)

    # Sketch103 → Boss-Extrude39 (add)
    with BuildSketch(Plane(origin=(0, -0.477600251, 0), x_dir=(1, 0, 0), z_dir=(0, 1, 0))):
        with BuildLine():
            ThreePointArc((137.7696, 26.5714801), (138.186211314, 27.577268786), (139.192, 27.9938801))
            Line((139.192, 27.9938801), (137.16, 27.9938801))
            ThreePointArc((137.16, 27.9938801), (135.7376, 26.5714801), (137.16, 25.1490801))
            Line((137.16, 25.1490801), (139.192, 25.1490801))
            ThreePointArc((139.192, 25.1490801), (138.186211314, 25.565691415), (137.7696, 26.5714801))
        make_face()
        with BuildLine():
            ThreePointArc((137.7696, 20.5516801), (138.186211314, 21.557468786), (139.192, 21.9740801))
            Line((139.192, 21.9740801), (137.16, 21.9740801))
            ThreePointArc((137.16, 21.9740801), (135.7376, 20.5516801), (137.16, 19.1292801))
            Line((137.16, 19.1292801), (139.192, 19.1292801))
            ThreePointArc((139.192, 19.1292801), (138.186211314, 19.545891415), (137.7696, 20.5516801))
        make_face()
    extrude(amount=-BOSS_EXTRUDE39_DEPTH)

    # Sketch105 → Boss-Extrude40 (add)
    with BuildSketch(Plane(origin=(0, 0, -31.7784801), x_dir=(-1, 0, 0), z_dir=(0, 0, -1))):
        Polygon((-43.053, 4.983399749), (-43.053, -2.200805148), (-35.868795103, -2.200805148), align=None)
    extrude(amount=-BOSS_EXTRUDE40_DEPTH)

    # Sketch106 → Boss-Extrude41 (add)
    with BuildSketch(Plane(origin=(0, -0.477600251, 0), x_dir=(1, 0, 0), z_dir=(0, 1, 0))):
        with BuildLine():
            ThreePointArc((154.432, 27.9938801), (155.437788686, 27.577268786), (155.8544, 26.5714801))
            ThreePointArc((155.8544, 26.5714801), (155.437788686, 25.565691415), (154.432, 25.1490801))
            Line((154.432, 25.1490801), (154.829457139, 25.1490801))
            ThreePointArc((154.829457139, 25.1490801), (156.251857139, 26.5714801), (154.829457139, 27.9938801))
            Line((154.829457139, 27.9938801), (154.432, 27.9938801))
        make_face()
        with BuildLine():
            ThreePointArc((154.432, 21.9740801), (155.437788686, 21.557468786), (155.8544, 20.5516801))
            ThreePointArc((155.8544, 20.5516801), (155.437788686, 19.545891415), (154.432, 19.1292801))
            Line((154.432, 19.1292801), (154.829457139, 19.1292801))
            ThreePointArc((154.829457139, 19.1292801), (156.251857139, 20.5516801), (154.829457139, 21.9740801))
            Line((154.829457139, 21.9740801), (154.432, 21.9740801))
        make_face()
    extrude(amount=-BOSS_EXTRUDE41_DEPTH)


solid = part.part
